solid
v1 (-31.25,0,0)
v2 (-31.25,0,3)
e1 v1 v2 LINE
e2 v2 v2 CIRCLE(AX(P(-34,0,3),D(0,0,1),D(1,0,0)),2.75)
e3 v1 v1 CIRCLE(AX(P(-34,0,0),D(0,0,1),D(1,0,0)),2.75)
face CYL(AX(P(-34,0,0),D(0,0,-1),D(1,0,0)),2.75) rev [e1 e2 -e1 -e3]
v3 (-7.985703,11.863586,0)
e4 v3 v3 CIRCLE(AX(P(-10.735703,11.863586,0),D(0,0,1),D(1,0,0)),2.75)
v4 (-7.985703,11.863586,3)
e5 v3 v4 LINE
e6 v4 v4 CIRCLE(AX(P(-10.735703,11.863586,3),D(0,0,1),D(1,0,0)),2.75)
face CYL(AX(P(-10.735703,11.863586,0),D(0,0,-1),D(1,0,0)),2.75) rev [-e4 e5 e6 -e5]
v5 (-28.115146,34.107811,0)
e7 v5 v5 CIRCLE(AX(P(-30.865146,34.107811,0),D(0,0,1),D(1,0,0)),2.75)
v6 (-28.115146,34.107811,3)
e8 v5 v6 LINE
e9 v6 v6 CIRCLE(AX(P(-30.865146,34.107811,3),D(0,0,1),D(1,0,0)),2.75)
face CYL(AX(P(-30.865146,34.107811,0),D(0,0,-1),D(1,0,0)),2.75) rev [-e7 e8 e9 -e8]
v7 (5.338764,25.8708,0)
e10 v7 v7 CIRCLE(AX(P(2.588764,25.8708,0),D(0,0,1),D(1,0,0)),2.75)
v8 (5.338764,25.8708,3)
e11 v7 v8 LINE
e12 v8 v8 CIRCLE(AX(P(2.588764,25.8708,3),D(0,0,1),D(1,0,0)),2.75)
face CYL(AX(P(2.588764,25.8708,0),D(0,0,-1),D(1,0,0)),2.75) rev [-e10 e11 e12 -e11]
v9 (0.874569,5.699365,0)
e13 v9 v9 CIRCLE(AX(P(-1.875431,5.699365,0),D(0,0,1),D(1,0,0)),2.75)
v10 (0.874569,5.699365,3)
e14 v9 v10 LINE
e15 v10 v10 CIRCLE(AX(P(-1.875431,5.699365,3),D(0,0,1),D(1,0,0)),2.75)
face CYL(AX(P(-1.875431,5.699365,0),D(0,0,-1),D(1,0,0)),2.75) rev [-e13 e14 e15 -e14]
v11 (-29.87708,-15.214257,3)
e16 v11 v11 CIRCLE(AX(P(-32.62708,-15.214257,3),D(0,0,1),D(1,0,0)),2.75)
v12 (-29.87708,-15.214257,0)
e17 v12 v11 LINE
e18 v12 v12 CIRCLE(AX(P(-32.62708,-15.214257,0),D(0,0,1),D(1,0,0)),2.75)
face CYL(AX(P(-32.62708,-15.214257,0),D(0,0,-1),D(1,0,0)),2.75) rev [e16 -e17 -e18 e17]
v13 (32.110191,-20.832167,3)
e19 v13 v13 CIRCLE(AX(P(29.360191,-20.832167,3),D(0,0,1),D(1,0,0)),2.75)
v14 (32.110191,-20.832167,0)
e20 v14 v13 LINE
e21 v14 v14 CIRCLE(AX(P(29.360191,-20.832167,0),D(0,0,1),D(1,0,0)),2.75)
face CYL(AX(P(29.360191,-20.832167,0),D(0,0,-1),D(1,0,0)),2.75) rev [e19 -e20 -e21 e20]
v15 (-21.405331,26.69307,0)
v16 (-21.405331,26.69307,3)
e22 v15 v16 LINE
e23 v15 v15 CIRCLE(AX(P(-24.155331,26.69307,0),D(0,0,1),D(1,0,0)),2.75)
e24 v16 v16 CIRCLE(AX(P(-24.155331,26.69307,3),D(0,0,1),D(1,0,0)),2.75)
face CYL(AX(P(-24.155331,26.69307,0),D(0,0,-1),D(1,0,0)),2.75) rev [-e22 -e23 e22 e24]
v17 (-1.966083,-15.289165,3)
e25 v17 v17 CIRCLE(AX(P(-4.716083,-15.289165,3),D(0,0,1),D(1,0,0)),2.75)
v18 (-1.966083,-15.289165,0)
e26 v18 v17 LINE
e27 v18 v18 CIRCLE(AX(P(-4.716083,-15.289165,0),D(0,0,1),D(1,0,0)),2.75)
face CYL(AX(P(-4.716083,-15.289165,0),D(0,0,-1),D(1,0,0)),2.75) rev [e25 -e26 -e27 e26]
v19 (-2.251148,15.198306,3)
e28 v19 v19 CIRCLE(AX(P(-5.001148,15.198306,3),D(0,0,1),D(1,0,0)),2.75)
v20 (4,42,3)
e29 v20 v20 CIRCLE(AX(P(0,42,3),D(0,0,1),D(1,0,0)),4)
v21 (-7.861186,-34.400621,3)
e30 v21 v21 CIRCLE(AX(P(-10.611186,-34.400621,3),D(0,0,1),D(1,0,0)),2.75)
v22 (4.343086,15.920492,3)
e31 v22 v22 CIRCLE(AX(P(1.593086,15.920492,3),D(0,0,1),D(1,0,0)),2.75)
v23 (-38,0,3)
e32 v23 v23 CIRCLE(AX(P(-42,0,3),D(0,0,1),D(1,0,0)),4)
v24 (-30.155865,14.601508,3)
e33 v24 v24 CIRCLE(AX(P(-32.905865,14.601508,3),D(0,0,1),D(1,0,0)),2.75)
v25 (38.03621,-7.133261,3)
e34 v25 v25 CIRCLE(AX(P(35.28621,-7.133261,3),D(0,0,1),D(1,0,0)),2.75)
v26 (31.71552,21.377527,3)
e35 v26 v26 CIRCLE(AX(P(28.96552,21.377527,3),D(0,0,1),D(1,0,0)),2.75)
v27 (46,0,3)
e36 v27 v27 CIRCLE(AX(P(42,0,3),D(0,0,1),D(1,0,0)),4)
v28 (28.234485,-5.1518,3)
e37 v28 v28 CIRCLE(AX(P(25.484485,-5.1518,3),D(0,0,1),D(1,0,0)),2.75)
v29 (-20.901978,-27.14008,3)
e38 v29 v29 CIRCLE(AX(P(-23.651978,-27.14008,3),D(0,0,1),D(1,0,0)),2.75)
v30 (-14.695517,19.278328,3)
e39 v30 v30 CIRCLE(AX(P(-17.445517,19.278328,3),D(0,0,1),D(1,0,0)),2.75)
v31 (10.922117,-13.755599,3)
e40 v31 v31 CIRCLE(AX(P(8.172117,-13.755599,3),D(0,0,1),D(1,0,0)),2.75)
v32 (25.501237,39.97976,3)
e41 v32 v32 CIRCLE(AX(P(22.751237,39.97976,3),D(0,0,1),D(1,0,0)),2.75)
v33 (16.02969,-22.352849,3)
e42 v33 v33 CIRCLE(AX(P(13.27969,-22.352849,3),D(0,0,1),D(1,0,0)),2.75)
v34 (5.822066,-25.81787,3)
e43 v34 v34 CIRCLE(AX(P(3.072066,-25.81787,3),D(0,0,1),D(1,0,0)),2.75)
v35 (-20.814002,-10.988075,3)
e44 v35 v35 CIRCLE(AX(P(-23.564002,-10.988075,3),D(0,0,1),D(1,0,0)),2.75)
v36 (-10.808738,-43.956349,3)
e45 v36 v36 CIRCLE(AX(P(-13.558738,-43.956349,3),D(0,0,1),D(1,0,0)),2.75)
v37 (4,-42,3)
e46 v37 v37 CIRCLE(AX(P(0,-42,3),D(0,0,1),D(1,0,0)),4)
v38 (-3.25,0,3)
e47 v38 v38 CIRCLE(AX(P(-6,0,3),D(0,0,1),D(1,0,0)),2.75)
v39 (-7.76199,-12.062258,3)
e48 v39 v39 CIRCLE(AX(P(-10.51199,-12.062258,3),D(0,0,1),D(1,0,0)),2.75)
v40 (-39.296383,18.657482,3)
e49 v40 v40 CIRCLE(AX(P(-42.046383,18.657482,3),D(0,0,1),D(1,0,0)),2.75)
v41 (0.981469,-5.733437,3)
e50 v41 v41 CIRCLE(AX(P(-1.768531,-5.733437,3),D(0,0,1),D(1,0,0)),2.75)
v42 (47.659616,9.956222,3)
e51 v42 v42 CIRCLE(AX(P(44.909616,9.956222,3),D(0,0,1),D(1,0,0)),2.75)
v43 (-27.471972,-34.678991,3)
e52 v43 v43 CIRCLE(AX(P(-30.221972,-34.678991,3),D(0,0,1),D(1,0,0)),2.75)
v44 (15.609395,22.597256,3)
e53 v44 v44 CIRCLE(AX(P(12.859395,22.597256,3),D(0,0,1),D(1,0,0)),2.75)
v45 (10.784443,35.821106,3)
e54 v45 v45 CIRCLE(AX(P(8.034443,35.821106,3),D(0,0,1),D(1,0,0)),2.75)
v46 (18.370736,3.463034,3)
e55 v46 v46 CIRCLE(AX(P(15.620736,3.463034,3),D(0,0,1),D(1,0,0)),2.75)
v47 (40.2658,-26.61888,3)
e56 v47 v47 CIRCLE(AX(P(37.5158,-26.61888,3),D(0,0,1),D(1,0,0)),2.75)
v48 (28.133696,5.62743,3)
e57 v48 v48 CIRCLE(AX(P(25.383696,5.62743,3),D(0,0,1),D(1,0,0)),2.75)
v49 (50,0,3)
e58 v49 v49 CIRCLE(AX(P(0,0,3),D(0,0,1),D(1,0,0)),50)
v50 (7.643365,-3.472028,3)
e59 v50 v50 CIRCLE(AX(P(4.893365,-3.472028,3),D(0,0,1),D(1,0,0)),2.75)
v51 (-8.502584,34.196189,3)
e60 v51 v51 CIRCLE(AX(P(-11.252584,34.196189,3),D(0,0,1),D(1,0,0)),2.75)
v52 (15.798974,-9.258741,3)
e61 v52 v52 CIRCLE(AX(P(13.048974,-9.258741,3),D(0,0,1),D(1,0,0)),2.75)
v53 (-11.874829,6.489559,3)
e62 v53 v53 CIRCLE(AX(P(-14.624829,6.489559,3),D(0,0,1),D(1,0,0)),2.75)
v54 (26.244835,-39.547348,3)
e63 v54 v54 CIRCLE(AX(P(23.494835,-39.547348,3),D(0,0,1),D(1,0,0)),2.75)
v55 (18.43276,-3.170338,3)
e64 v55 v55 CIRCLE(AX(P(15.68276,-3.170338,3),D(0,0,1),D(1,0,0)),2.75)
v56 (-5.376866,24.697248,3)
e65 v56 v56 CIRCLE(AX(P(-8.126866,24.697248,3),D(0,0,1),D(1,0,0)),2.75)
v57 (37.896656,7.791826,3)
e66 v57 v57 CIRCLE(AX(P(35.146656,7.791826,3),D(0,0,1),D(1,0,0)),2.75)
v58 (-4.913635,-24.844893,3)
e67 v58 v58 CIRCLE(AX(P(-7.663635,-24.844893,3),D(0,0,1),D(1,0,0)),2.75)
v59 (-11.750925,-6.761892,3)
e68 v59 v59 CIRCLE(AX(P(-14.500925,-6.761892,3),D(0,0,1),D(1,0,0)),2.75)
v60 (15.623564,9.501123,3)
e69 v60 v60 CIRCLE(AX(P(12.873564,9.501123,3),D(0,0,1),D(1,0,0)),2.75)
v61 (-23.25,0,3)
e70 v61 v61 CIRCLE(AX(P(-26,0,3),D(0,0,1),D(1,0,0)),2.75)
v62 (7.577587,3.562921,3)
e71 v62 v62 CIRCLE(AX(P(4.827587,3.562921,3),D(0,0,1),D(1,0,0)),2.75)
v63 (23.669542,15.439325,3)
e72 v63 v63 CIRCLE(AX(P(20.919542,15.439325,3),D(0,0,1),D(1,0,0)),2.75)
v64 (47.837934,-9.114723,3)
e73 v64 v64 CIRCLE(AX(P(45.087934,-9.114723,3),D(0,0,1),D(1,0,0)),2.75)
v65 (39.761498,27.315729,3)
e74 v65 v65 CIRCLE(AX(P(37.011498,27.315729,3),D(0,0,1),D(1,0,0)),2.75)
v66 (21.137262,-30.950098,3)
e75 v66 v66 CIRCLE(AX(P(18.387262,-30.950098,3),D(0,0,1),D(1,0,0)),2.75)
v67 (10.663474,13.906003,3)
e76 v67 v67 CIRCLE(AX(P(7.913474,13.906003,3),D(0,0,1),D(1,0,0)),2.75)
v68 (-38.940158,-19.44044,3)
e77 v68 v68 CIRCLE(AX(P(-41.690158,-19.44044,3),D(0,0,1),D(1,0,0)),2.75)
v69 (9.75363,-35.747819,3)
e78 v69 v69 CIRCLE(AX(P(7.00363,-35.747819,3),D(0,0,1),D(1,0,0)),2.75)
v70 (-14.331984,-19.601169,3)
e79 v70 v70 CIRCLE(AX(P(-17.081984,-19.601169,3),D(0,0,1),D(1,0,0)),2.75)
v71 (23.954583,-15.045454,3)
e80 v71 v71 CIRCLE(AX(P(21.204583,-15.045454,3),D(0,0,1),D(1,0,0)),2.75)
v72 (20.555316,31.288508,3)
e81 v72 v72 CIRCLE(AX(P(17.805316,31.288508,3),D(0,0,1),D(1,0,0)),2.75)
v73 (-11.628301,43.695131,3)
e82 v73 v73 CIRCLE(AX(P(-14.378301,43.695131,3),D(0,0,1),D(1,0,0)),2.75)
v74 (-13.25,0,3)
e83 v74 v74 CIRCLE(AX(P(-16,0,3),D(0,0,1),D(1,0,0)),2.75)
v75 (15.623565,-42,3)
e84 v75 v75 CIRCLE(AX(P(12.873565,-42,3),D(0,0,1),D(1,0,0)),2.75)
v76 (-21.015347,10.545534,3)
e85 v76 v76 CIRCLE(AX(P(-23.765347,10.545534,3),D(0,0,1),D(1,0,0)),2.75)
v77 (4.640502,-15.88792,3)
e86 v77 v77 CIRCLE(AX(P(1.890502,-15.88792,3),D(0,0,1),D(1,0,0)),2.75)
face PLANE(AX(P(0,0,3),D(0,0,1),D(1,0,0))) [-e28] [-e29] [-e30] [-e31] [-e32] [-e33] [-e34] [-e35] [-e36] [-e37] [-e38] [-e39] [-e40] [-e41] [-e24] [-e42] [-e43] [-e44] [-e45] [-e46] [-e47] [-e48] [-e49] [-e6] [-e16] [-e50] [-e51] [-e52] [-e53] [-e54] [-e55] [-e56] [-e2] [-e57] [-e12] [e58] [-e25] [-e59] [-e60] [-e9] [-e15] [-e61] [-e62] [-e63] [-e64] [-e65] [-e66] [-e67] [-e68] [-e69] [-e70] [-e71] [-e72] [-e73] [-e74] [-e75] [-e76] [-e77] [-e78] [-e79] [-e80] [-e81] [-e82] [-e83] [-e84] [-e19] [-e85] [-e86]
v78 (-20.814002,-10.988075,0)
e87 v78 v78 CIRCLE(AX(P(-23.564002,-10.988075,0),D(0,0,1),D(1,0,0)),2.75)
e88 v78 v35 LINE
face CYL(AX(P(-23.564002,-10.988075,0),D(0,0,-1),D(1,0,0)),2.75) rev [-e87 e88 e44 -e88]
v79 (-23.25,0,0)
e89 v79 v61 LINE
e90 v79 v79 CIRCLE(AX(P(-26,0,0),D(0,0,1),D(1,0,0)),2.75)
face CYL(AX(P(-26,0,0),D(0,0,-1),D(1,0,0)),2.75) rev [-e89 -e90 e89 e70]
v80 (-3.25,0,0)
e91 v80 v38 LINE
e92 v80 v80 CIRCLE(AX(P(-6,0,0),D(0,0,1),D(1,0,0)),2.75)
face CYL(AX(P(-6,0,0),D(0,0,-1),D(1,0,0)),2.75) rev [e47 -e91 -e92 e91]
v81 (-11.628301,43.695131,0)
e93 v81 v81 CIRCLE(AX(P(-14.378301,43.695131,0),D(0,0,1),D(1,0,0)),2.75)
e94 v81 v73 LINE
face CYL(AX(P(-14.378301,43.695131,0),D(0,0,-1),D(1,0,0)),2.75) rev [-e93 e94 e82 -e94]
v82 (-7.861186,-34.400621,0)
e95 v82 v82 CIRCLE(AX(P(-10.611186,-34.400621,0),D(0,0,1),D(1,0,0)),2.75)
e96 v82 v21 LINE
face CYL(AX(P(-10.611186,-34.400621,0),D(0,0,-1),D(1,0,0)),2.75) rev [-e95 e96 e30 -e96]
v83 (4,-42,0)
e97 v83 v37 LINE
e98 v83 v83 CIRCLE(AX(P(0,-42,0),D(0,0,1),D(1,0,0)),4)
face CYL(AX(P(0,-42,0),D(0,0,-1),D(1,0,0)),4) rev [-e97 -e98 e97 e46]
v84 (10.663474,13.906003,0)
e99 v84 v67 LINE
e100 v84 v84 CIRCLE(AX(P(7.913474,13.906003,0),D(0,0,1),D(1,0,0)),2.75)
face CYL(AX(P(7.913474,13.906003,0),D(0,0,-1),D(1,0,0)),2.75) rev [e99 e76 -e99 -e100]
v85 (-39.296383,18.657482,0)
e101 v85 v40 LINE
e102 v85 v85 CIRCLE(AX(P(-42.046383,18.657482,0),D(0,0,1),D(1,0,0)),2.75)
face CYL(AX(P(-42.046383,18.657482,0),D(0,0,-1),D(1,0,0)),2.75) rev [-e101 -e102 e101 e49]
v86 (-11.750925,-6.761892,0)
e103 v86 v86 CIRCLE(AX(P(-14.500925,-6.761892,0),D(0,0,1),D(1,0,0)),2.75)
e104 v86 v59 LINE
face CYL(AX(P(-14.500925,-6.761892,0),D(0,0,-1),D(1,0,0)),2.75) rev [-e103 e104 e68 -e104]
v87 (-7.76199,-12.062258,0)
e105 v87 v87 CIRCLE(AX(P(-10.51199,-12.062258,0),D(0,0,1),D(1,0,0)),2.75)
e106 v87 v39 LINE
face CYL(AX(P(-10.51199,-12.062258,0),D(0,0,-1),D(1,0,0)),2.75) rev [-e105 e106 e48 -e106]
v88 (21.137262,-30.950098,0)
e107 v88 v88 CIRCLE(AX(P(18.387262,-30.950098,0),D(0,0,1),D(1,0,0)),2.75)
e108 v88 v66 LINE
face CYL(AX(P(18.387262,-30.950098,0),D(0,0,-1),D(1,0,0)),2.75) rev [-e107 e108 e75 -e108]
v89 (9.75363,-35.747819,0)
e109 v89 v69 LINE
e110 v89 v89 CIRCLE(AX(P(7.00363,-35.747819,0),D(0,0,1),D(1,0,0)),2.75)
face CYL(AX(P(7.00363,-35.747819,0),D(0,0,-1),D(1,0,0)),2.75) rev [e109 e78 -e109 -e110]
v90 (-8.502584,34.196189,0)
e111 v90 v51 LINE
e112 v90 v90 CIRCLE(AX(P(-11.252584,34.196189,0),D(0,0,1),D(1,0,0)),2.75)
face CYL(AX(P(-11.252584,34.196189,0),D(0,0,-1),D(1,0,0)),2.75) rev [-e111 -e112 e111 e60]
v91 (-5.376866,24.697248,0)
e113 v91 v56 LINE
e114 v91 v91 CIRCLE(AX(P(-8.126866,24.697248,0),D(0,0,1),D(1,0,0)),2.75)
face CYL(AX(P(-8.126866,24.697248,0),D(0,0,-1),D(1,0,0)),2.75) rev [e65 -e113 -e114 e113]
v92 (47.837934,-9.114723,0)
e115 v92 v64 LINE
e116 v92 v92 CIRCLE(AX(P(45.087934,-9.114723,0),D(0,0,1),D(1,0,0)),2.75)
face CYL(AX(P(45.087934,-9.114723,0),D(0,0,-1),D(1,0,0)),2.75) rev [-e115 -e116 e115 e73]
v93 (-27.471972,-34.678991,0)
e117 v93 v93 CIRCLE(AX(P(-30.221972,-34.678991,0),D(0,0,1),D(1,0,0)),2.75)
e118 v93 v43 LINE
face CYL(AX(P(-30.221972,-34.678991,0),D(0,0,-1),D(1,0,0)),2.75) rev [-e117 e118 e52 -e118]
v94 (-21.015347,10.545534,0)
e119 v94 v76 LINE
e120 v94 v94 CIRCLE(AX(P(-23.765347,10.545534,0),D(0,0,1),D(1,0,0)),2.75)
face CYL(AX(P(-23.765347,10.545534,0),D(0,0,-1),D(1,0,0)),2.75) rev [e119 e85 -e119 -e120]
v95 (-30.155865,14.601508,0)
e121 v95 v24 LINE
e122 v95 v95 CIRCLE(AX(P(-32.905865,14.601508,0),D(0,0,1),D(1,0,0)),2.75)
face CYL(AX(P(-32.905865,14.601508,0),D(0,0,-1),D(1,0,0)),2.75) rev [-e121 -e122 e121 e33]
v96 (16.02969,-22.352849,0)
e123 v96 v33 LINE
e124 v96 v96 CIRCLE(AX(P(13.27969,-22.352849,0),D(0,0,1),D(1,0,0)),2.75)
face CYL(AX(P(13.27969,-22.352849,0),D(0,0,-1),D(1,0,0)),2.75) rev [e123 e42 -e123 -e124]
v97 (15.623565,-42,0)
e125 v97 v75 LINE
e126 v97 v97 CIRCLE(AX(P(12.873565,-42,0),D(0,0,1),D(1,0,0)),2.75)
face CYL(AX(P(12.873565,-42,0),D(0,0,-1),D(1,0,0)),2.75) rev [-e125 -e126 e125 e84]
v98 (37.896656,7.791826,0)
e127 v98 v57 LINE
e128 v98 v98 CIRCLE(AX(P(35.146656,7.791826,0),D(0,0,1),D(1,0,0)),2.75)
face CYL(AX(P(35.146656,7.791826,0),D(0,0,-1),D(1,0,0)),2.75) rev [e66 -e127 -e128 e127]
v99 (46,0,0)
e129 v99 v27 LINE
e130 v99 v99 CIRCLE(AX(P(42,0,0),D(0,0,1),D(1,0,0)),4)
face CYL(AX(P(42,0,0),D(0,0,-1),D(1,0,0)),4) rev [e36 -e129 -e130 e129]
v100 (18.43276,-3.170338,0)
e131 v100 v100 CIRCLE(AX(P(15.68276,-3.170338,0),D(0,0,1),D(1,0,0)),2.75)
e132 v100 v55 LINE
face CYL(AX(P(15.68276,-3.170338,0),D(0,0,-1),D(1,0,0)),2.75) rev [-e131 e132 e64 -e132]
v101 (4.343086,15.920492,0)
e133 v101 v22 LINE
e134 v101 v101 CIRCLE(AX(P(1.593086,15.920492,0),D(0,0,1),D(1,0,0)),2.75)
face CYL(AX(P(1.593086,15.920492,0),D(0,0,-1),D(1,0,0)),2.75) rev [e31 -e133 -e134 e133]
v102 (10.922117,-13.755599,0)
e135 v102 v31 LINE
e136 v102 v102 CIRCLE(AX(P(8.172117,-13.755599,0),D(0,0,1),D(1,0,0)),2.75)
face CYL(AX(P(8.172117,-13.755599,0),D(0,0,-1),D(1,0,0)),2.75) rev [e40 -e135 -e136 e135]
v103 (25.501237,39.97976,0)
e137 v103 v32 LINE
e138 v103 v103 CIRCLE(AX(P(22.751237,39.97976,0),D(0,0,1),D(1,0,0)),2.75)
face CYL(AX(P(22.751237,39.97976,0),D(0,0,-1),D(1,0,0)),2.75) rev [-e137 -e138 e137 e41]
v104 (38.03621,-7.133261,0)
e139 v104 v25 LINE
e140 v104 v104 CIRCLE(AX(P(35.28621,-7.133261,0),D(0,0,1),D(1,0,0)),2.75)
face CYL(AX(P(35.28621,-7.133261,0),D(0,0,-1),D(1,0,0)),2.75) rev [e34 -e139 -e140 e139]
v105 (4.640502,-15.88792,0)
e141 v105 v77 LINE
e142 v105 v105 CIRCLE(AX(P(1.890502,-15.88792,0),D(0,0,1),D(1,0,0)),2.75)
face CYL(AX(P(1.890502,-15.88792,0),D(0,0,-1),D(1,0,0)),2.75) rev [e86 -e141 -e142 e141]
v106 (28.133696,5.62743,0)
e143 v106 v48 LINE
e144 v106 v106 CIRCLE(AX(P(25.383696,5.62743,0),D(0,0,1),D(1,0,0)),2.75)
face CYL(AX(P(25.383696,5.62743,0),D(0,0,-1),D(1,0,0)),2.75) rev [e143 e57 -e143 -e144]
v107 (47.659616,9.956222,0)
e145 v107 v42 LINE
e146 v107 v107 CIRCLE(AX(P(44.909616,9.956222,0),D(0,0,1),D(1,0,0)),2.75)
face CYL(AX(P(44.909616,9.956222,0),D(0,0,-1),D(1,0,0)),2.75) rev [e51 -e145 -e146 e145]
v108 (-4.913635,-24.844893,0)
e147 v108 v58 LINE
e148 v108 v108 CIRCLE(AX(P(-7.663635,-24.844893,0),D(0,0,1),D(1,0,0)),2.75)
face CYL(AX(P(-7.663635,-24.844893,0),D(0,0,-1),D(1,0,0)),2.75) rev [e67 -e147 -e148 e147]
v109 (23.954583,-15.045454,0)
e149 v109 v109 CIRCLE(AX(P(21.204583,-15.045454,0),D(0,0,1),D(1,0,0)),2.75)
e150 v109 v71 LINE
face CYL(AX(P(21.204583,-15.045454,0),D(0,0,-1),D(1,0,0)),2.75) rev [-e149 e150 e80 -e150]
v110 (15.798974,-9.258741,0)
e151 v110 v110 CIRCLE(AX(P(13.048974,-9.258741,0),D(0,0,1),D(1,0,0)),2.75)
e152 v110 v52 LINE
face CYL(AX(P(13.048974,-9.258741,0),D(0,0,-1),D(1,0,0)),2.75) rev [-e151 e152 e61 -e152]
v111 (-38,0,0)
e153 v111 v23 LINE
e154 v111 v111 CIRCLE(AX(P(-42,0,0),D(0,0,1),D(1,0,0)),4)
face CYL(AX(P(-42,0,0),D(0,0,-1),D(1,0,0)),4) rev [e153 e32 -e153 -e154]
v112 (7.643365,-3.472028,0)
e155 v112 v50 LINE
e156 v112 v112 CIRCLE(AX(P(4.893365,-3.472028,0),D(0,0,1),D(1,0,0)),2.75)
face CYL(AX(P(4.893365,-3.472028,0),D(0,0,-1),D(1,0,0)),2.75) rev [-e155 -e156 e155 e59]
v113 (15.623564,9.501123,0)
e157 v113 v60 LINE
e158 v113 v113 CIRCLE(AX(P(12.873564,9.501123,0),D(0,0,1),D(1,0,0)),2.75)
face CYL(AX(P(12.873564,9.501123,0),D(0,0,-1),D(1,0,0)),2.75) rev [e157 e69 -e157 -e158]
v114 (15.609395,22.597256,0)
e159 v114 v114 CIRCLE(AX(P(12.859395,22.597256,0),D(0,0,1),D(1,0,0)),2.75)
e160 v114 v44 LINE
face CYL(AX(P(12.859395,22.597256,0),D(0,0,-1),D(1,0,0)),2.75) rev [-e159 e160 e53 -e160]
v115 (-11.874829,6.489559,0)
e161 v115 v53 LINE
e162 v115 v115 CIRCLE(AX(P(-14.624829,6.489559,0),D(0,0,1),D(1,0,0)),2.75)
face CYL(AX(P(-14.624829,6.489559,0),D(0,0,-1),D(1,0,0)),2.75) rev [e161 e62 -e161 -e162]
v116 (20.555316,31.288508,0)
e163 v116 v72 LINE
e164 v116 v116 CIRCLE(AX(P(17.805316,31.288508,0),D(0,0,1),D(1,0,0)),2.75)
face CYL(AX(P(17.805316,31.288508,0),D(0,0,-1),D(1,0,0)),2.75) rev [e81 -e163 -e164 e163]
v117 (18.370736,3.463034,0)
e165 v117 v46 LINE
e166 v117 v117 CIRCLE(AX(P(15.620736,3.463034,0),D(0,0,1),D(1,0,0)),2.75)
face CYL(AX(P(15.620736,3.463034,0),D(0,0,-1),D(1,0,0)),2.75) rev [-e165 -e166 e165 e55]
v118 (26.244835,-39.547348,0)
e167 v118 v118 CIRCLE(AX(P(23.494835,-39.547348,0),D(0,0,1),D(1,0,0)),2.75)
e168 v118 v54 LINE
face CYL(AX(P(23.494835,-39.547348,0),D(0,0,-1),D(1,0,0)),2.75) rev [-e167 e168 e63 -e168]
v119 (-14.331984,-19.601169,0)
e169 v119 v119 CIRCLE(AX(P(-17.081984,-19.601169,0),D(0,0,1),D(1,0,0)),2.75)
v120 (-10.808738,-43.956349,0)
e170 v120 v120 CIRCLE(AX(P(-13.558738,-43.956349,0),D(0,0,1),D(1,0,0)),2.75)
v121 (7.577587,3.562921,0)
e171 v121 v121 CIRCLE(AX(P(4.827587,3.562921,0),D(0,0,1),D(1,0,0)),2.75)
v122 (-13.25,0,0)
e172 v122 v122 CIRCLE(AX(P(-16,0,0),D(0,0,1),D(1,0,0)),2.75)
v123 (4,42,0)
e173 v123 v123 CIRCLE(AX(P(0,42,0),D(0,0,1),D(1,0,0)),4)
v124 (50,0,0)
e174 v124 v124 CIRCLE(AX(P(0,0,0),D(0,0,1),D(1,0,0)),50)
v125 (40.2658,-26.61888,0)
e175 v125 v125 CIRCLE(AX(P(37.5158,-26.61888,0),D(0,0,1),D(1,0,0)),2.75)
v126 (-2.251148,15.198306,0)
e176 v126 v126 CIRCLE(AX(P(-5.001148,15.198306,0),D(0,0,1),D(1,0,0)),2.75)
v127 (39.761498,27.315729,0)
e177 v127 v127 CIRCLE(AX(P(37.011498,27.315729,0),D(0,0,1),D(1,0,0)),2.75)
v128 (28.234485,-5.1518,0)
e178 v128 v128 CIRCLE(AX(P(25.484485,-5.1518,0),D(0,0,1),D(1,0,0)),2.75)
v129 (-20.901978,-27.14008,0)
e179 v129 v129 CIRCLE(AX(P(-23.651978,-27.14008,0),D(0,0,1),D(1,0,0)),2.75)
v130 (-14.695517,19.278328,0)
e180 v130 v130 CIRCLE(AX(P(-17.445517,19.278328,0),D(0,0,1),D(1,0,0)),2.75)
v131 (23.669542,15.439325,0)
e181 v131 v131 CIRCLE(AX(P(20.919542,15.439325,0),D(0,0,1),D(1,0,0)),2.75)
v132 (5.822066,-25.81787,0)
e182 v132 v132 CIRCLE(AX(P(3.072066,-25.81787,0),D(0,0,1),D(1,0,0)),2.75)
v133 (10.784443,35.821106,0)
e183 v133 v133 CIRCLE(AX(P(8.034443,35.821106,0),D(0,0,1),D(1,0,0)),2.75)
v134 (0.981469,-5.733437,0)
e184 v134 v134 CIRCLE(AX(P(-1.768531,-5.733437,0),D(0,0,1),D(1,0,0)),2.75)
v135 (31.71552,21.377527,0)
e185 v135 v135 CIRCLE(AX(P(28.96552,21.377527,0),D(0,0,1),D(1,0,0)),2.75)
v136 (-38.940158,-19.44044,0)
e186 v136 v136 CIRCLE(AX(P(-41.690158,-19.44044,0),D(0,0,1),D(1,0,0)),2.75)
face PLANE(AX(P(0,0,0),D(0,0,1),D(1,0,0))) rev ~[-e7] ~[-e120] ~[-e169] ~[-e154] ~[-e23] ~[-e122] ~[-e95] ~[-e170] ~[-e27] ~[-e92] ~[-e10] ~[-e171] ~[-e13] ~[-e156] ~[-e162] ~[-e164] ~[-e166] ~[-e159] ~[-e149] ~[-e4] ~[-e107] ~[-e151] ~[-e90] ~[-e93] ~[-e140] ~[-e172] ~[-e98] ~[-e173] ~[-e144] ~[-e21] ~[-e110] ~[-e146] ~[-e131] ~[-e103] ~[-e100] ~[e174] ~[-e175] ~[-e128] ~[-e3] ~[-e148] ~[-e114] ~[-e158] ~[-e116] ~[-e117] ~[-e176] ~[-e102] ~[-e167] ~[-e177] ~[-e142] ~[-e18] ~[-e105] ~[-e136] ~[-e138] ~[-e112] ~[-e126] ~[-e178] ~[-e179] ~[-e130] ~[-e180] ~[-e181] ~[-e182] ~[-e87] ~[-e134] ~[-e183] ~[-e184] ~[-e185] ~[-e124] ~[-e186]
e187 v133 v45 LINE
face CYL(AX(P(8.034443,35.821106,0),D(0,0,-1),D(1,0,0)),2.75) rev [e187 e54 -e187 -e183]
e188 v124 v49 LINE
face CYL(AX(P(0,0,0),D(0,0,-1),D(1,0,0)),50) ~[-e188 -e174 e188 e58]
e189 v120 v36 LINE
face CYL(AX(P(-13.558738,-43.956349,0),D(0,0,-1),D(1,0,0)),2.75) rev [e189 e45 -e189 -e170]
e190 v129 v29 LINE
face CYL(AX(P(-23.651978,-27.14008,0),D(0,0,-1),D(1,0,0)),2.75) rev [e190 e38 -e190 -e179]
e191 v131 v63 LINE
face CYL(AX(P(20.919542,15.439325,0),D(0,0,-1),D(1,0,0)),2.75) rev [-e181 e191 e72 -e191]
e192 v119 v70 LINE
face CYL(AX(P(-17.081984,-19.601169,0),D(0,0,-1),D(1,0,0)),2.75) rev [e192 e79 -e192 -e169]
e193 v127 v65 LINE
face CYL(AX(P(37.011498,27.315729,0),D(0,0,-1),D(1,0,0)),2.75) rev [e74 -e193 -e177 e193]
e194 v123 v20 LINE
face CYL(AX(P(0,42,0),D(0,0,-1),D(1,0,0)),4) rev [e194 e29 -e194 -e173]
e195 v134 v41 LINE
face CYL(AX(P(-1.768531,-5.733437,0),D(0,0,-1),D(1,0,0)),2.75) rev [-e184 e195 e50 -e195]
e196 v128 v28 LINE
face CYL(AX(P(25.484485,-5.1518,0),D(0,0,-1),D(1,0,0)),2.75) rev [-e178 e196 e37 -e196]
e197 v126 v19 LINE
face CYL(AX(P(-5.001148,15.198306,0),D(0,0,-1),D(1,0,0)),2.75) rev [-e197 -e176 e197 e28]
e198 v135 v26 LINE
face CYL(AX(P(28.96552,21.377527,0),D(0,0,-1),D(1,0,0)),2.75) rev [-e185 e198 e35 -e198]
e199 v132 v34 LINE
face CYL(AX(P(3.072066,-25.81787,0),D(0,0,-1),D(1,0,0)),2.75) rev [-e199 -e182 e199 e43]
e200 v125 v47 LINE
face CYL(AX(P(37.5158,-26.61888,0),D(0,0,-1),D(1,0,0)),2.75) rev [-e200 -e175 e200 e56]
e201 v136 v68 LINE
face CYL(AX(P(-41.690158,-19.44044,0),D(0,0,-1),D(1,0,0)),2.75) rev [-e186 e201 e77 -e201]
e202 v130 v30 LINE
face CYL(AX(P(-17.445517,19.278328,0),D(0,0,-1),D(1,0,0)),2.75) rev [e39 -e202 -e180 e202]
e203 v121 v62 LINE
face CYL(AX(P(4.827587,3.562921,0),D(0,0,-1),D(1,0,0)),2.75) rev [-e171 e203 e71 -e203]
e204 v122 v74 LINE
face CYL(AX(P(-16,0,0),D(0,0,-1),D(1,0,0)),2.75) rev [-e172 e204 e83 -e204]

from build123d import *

# Parameters (mm, degrees)
F0_R     = 50
F0_R_2   = 2.75
F0_R_3   = 4
F1_DEPTH = 3


with BuildPart() as f1:
    # F0 (on Top) → F1 (new body)
    with BuildSketch(Plane.XY):
        Circle(F0_R)
        with Locations((-30.221972, -34.678991)):
            Circle(F0_R_2, mode=Mode.SUBTRACT)
        with Locations((-13.558738, -43.956349)):
            Circle(F0_R_2, mode=Mode.SUBTRACT)
        with Locations((-23.651978, -27.14008)):
            Circle(F0_R_2, mode=Mode.SUBTRACT)
        with Locations((-10.611186, -34.400621)):
            Circle(F0_R_2, mode=Mode.SUBTRACT)
        with Locations((-41.690158, -19.44044)):
            Circle(F0_R_2, mode=Mode.SUBTRACT)
        with Locations((-32.62708, -15.214257)):
            Circle(F0_R_2, mode=Mode.SUBTRACT)
        with Locations((-17.081984, -19.601169)):
            Circle(F0_R_2, mode=Mode.SUBTRACT)
        with Locations((-7.663635, -24.844893)):
            Circle(F0_R_2, mode=Mode.SUBTRACT)
        with Locations((-4.716083, -15.289165)):
            Circle(F0_R_2, mode=Mode.SUBTRACT)
        with Locations((-23.564002, -10.988075)):
            Circle(F0_R_2, mode=Mode.SUBTRACT)
        with Locations((-14.500925, -6.761892)):
            Circle(F0_R_2, mode=Mode.SUBTRACT)
        with Locations((-10.51199, -12.062258)):
            Circle(F0_R_2, mode=Mode.SUBTRACT)
        with Locations((-1.768531, -5.733437)):
            Circle(F0_R_2, mode=Mode.SUBTRACT)
        with Locations((0, -42)):
            Circle(F0_R_3, mode=Mode.SUBTRACT)
        with Locations((12.873565, -42)):
            Circle(F0_R_2, mode=Mode.SUBTRACT)
        with Locations((23.494835, -39.547348)):
            Circle(F0_R_2, mode=Mode.SUBTRACT)
        with Locations((7.00363, -35.747819)):
            Circle(F0_R_2, mode=Mode.SUBTRACT)
        with Locations((3.072066, -25.81787)):
            Circle(F0_R_2, mode=Mode.SUBTRACT)
        with Locations((18.387262, -30.950098)):
            Circle(F0_R_2, mode=Mode.SUBTRACT)
        with Locations((37.5158, -26.61888)):
            Circle(F0_R_2, mode=Mode.SUBTRACT)
        with Locations((1.890502, -15.88792)):
            Circle(F0_R_2, mode=Mode.SUBTRACT)
        with Locations((8.172117, -13.755599)):
            Circle(F0_R_2, mode=Mode.SUBTRACT)
        with Locations((13.27969, -22.352849)):
            Circle(F0_R_2, mode=Mode.SUBTRACT)
        with Locations((21.204583, -15.045454)):
            Circle(F0_R_2, mode=Mode.SUBTRACT)
        with Locations((4.893365, -3.472028)):
            Circle(F0_R_2, mode=Mode.SUBTRACT)
        with Locations((13.048974, -9.258741)):
            Circle(F0_R_2, mode=Mode.SUBTRACT)
        with Locations((15.68276, -3.170338)):
            Circle(F0_R_2, mode=Mode.SUBTRACT)
        with Locations((29.360191, -20.832167)):
            Circle(F0_R_2, mode=Mode.SUBTRACT)
        with Locations((35.28621, -7.133261)):
            Circle(F0_R_2, mode=Mode.SUBTRACT)
        with Locations((25.484485, -5.1518)):
            Circle(F0_R_2, mode=Mode.SUBTRACT)
        with Locations((45.087934, -9.114723)):
            Circle(F0_R_2, mode=Mode.SUBTRACT)
        with Locations((-42, 0)):
            Circle(F0_R_3, mode=Mode.SUBTRACT)
        with Locations((-34, 0)):
            Circle(F0_R_2, mode=Mode.SUBTRACT)
        with Locations((-26, 0)):
            Circle(F0_R_2, mode=Mode.SUBTRACT)
        with Locations((-42.046383, 18.657482)):
            Circle(F0_R_2, mode=Mode.SUBTRACT)
        with Locations((-32.905865, 14.601508)):
            Circle(F0_R_2, mode=Mode.SUBTRACT)
        with Locations((-16, 0)):
            Circle(F0_R_2, mode=Mode.SUBTRACT)
        with Locations((-23.765347, 10.545534)):
            Circle(F0_R_2, mode=Mode.SUBTRACT)
        with Locations((-14.624829, 6.489559)):
            Circle(F0_R_2, mode=Mode.SUBTRACT)
        with Locations((-6, 0)):
            Circle(F0_R_2, mode=Mode.SUBTRACT)
        with Locations((-1.875431, 5.699365)):
            Circle(F0_R_2, mode=Mode.SUBTRACT)
        with Locations((-10.735703, 11.863586)):
            Circle(F0_R_2, mode=Mode.SUBTRACT)
        with Locations((-17.445517, 19.278328)):
            Circle(F0_R_2, mode=Mode.SUBTRACT)
        with Locations((-5.001148, 15.198306)):
            Circle(F0_R_2, mode=Mode.SUBTRACT)
        with Locations((-8.126866, 24.697248)):
            Circle(F0_R_2, mode=Mode.SUBTRACT)
        with Locations((-30.865146, 34.107811)):
            Circle(F0_R_2, mode=Mode.SUBTRACT)
        with Locations((-24.155331, 26.69307)):
            Circle(F0_R_2, mode=Mode.SUBTRACT)
        with Locations((-11.252584, 34.196189)):
            Circle(F0_R_2, mode=Mode.SUBTRACT)
        with Locations((-14.378301, 43.695131)):
            Circle(F0_R_2, mode=Mode.SUBTRACT)
        with Locations((4.827587, 3.562921)):
            Circle(F0_R_2, mode=Mode.SUBTRACT)
        with Locations((15.620736, 3.463034)):
            Circle(F0_R_2, mode=Mode.SUBTRACT)
        with Locations((12.873564, 9.501123)):
            Circle(F0_R_2, mode=Mode.SUBTRACT)
        with Locations((1.593086, 15.920492)):
            Circle(F0_R_2, mode=Mode.SUBTRACT)
        with Locations((7.913474, 13.906003)):
            Circle(F0_R_2, mode=Mode.SUBTRACT)
        with Locations((20.919542, 15.439325)):
            Circle(F0_R_2, mode=Mode.SUBTRACT)
        with Locations((12.859395, 22.597256)):
            Circle(F0_R_2, mode=Mode.SUBTRACT)
        with Locations((25.383696, 5.62743)):
            Circle(F0_R_2, mode=Mode.SUBTRACT)
        with Locations((35.146656, 7.791826)):
            Circle(F0_R_2, mode=Mode.SUBTRACT)
        with Locations((42, 0)):
            Circle(F0_R_3, mode=Mode.SUBTRACT)
        with Locations((44.909616, 9.956222)):
            Circle(F0_R_2, mode=Mode.SUBTRACT)
        with Locations((28.96552, 21.377527)):
            Circle(F0_R_2, mode=Mode.SUBTRACT)
        with Locations((2.588764, 25.8708)):
            Circle(F0_R_2, mode=Mode.SUBTRACT)
        with Locations((8.034443, 35.821106)):
            Circle(F0_R_2, mode=Mode.SUBTRACT)
        with Locations((17.805316, 31.288508)):
            Circle(F0_R_2, mode=Mode.SUBTRACT)
        with Locations((0, 42)):
            Circle(F0_R_3, mode=Mode.SUBTRACT)
        with Locations((22.751237, 39.97976)):
            Circle(F0_R_2, mode=Mode.SUBTRACT)
        with Locations((37.011498, 27.315729)):
            Circle(F0_R_2, mode=Mode.SUBTRACT)
    extrude(amount=F1_DEPTH)


solid = f1.part
